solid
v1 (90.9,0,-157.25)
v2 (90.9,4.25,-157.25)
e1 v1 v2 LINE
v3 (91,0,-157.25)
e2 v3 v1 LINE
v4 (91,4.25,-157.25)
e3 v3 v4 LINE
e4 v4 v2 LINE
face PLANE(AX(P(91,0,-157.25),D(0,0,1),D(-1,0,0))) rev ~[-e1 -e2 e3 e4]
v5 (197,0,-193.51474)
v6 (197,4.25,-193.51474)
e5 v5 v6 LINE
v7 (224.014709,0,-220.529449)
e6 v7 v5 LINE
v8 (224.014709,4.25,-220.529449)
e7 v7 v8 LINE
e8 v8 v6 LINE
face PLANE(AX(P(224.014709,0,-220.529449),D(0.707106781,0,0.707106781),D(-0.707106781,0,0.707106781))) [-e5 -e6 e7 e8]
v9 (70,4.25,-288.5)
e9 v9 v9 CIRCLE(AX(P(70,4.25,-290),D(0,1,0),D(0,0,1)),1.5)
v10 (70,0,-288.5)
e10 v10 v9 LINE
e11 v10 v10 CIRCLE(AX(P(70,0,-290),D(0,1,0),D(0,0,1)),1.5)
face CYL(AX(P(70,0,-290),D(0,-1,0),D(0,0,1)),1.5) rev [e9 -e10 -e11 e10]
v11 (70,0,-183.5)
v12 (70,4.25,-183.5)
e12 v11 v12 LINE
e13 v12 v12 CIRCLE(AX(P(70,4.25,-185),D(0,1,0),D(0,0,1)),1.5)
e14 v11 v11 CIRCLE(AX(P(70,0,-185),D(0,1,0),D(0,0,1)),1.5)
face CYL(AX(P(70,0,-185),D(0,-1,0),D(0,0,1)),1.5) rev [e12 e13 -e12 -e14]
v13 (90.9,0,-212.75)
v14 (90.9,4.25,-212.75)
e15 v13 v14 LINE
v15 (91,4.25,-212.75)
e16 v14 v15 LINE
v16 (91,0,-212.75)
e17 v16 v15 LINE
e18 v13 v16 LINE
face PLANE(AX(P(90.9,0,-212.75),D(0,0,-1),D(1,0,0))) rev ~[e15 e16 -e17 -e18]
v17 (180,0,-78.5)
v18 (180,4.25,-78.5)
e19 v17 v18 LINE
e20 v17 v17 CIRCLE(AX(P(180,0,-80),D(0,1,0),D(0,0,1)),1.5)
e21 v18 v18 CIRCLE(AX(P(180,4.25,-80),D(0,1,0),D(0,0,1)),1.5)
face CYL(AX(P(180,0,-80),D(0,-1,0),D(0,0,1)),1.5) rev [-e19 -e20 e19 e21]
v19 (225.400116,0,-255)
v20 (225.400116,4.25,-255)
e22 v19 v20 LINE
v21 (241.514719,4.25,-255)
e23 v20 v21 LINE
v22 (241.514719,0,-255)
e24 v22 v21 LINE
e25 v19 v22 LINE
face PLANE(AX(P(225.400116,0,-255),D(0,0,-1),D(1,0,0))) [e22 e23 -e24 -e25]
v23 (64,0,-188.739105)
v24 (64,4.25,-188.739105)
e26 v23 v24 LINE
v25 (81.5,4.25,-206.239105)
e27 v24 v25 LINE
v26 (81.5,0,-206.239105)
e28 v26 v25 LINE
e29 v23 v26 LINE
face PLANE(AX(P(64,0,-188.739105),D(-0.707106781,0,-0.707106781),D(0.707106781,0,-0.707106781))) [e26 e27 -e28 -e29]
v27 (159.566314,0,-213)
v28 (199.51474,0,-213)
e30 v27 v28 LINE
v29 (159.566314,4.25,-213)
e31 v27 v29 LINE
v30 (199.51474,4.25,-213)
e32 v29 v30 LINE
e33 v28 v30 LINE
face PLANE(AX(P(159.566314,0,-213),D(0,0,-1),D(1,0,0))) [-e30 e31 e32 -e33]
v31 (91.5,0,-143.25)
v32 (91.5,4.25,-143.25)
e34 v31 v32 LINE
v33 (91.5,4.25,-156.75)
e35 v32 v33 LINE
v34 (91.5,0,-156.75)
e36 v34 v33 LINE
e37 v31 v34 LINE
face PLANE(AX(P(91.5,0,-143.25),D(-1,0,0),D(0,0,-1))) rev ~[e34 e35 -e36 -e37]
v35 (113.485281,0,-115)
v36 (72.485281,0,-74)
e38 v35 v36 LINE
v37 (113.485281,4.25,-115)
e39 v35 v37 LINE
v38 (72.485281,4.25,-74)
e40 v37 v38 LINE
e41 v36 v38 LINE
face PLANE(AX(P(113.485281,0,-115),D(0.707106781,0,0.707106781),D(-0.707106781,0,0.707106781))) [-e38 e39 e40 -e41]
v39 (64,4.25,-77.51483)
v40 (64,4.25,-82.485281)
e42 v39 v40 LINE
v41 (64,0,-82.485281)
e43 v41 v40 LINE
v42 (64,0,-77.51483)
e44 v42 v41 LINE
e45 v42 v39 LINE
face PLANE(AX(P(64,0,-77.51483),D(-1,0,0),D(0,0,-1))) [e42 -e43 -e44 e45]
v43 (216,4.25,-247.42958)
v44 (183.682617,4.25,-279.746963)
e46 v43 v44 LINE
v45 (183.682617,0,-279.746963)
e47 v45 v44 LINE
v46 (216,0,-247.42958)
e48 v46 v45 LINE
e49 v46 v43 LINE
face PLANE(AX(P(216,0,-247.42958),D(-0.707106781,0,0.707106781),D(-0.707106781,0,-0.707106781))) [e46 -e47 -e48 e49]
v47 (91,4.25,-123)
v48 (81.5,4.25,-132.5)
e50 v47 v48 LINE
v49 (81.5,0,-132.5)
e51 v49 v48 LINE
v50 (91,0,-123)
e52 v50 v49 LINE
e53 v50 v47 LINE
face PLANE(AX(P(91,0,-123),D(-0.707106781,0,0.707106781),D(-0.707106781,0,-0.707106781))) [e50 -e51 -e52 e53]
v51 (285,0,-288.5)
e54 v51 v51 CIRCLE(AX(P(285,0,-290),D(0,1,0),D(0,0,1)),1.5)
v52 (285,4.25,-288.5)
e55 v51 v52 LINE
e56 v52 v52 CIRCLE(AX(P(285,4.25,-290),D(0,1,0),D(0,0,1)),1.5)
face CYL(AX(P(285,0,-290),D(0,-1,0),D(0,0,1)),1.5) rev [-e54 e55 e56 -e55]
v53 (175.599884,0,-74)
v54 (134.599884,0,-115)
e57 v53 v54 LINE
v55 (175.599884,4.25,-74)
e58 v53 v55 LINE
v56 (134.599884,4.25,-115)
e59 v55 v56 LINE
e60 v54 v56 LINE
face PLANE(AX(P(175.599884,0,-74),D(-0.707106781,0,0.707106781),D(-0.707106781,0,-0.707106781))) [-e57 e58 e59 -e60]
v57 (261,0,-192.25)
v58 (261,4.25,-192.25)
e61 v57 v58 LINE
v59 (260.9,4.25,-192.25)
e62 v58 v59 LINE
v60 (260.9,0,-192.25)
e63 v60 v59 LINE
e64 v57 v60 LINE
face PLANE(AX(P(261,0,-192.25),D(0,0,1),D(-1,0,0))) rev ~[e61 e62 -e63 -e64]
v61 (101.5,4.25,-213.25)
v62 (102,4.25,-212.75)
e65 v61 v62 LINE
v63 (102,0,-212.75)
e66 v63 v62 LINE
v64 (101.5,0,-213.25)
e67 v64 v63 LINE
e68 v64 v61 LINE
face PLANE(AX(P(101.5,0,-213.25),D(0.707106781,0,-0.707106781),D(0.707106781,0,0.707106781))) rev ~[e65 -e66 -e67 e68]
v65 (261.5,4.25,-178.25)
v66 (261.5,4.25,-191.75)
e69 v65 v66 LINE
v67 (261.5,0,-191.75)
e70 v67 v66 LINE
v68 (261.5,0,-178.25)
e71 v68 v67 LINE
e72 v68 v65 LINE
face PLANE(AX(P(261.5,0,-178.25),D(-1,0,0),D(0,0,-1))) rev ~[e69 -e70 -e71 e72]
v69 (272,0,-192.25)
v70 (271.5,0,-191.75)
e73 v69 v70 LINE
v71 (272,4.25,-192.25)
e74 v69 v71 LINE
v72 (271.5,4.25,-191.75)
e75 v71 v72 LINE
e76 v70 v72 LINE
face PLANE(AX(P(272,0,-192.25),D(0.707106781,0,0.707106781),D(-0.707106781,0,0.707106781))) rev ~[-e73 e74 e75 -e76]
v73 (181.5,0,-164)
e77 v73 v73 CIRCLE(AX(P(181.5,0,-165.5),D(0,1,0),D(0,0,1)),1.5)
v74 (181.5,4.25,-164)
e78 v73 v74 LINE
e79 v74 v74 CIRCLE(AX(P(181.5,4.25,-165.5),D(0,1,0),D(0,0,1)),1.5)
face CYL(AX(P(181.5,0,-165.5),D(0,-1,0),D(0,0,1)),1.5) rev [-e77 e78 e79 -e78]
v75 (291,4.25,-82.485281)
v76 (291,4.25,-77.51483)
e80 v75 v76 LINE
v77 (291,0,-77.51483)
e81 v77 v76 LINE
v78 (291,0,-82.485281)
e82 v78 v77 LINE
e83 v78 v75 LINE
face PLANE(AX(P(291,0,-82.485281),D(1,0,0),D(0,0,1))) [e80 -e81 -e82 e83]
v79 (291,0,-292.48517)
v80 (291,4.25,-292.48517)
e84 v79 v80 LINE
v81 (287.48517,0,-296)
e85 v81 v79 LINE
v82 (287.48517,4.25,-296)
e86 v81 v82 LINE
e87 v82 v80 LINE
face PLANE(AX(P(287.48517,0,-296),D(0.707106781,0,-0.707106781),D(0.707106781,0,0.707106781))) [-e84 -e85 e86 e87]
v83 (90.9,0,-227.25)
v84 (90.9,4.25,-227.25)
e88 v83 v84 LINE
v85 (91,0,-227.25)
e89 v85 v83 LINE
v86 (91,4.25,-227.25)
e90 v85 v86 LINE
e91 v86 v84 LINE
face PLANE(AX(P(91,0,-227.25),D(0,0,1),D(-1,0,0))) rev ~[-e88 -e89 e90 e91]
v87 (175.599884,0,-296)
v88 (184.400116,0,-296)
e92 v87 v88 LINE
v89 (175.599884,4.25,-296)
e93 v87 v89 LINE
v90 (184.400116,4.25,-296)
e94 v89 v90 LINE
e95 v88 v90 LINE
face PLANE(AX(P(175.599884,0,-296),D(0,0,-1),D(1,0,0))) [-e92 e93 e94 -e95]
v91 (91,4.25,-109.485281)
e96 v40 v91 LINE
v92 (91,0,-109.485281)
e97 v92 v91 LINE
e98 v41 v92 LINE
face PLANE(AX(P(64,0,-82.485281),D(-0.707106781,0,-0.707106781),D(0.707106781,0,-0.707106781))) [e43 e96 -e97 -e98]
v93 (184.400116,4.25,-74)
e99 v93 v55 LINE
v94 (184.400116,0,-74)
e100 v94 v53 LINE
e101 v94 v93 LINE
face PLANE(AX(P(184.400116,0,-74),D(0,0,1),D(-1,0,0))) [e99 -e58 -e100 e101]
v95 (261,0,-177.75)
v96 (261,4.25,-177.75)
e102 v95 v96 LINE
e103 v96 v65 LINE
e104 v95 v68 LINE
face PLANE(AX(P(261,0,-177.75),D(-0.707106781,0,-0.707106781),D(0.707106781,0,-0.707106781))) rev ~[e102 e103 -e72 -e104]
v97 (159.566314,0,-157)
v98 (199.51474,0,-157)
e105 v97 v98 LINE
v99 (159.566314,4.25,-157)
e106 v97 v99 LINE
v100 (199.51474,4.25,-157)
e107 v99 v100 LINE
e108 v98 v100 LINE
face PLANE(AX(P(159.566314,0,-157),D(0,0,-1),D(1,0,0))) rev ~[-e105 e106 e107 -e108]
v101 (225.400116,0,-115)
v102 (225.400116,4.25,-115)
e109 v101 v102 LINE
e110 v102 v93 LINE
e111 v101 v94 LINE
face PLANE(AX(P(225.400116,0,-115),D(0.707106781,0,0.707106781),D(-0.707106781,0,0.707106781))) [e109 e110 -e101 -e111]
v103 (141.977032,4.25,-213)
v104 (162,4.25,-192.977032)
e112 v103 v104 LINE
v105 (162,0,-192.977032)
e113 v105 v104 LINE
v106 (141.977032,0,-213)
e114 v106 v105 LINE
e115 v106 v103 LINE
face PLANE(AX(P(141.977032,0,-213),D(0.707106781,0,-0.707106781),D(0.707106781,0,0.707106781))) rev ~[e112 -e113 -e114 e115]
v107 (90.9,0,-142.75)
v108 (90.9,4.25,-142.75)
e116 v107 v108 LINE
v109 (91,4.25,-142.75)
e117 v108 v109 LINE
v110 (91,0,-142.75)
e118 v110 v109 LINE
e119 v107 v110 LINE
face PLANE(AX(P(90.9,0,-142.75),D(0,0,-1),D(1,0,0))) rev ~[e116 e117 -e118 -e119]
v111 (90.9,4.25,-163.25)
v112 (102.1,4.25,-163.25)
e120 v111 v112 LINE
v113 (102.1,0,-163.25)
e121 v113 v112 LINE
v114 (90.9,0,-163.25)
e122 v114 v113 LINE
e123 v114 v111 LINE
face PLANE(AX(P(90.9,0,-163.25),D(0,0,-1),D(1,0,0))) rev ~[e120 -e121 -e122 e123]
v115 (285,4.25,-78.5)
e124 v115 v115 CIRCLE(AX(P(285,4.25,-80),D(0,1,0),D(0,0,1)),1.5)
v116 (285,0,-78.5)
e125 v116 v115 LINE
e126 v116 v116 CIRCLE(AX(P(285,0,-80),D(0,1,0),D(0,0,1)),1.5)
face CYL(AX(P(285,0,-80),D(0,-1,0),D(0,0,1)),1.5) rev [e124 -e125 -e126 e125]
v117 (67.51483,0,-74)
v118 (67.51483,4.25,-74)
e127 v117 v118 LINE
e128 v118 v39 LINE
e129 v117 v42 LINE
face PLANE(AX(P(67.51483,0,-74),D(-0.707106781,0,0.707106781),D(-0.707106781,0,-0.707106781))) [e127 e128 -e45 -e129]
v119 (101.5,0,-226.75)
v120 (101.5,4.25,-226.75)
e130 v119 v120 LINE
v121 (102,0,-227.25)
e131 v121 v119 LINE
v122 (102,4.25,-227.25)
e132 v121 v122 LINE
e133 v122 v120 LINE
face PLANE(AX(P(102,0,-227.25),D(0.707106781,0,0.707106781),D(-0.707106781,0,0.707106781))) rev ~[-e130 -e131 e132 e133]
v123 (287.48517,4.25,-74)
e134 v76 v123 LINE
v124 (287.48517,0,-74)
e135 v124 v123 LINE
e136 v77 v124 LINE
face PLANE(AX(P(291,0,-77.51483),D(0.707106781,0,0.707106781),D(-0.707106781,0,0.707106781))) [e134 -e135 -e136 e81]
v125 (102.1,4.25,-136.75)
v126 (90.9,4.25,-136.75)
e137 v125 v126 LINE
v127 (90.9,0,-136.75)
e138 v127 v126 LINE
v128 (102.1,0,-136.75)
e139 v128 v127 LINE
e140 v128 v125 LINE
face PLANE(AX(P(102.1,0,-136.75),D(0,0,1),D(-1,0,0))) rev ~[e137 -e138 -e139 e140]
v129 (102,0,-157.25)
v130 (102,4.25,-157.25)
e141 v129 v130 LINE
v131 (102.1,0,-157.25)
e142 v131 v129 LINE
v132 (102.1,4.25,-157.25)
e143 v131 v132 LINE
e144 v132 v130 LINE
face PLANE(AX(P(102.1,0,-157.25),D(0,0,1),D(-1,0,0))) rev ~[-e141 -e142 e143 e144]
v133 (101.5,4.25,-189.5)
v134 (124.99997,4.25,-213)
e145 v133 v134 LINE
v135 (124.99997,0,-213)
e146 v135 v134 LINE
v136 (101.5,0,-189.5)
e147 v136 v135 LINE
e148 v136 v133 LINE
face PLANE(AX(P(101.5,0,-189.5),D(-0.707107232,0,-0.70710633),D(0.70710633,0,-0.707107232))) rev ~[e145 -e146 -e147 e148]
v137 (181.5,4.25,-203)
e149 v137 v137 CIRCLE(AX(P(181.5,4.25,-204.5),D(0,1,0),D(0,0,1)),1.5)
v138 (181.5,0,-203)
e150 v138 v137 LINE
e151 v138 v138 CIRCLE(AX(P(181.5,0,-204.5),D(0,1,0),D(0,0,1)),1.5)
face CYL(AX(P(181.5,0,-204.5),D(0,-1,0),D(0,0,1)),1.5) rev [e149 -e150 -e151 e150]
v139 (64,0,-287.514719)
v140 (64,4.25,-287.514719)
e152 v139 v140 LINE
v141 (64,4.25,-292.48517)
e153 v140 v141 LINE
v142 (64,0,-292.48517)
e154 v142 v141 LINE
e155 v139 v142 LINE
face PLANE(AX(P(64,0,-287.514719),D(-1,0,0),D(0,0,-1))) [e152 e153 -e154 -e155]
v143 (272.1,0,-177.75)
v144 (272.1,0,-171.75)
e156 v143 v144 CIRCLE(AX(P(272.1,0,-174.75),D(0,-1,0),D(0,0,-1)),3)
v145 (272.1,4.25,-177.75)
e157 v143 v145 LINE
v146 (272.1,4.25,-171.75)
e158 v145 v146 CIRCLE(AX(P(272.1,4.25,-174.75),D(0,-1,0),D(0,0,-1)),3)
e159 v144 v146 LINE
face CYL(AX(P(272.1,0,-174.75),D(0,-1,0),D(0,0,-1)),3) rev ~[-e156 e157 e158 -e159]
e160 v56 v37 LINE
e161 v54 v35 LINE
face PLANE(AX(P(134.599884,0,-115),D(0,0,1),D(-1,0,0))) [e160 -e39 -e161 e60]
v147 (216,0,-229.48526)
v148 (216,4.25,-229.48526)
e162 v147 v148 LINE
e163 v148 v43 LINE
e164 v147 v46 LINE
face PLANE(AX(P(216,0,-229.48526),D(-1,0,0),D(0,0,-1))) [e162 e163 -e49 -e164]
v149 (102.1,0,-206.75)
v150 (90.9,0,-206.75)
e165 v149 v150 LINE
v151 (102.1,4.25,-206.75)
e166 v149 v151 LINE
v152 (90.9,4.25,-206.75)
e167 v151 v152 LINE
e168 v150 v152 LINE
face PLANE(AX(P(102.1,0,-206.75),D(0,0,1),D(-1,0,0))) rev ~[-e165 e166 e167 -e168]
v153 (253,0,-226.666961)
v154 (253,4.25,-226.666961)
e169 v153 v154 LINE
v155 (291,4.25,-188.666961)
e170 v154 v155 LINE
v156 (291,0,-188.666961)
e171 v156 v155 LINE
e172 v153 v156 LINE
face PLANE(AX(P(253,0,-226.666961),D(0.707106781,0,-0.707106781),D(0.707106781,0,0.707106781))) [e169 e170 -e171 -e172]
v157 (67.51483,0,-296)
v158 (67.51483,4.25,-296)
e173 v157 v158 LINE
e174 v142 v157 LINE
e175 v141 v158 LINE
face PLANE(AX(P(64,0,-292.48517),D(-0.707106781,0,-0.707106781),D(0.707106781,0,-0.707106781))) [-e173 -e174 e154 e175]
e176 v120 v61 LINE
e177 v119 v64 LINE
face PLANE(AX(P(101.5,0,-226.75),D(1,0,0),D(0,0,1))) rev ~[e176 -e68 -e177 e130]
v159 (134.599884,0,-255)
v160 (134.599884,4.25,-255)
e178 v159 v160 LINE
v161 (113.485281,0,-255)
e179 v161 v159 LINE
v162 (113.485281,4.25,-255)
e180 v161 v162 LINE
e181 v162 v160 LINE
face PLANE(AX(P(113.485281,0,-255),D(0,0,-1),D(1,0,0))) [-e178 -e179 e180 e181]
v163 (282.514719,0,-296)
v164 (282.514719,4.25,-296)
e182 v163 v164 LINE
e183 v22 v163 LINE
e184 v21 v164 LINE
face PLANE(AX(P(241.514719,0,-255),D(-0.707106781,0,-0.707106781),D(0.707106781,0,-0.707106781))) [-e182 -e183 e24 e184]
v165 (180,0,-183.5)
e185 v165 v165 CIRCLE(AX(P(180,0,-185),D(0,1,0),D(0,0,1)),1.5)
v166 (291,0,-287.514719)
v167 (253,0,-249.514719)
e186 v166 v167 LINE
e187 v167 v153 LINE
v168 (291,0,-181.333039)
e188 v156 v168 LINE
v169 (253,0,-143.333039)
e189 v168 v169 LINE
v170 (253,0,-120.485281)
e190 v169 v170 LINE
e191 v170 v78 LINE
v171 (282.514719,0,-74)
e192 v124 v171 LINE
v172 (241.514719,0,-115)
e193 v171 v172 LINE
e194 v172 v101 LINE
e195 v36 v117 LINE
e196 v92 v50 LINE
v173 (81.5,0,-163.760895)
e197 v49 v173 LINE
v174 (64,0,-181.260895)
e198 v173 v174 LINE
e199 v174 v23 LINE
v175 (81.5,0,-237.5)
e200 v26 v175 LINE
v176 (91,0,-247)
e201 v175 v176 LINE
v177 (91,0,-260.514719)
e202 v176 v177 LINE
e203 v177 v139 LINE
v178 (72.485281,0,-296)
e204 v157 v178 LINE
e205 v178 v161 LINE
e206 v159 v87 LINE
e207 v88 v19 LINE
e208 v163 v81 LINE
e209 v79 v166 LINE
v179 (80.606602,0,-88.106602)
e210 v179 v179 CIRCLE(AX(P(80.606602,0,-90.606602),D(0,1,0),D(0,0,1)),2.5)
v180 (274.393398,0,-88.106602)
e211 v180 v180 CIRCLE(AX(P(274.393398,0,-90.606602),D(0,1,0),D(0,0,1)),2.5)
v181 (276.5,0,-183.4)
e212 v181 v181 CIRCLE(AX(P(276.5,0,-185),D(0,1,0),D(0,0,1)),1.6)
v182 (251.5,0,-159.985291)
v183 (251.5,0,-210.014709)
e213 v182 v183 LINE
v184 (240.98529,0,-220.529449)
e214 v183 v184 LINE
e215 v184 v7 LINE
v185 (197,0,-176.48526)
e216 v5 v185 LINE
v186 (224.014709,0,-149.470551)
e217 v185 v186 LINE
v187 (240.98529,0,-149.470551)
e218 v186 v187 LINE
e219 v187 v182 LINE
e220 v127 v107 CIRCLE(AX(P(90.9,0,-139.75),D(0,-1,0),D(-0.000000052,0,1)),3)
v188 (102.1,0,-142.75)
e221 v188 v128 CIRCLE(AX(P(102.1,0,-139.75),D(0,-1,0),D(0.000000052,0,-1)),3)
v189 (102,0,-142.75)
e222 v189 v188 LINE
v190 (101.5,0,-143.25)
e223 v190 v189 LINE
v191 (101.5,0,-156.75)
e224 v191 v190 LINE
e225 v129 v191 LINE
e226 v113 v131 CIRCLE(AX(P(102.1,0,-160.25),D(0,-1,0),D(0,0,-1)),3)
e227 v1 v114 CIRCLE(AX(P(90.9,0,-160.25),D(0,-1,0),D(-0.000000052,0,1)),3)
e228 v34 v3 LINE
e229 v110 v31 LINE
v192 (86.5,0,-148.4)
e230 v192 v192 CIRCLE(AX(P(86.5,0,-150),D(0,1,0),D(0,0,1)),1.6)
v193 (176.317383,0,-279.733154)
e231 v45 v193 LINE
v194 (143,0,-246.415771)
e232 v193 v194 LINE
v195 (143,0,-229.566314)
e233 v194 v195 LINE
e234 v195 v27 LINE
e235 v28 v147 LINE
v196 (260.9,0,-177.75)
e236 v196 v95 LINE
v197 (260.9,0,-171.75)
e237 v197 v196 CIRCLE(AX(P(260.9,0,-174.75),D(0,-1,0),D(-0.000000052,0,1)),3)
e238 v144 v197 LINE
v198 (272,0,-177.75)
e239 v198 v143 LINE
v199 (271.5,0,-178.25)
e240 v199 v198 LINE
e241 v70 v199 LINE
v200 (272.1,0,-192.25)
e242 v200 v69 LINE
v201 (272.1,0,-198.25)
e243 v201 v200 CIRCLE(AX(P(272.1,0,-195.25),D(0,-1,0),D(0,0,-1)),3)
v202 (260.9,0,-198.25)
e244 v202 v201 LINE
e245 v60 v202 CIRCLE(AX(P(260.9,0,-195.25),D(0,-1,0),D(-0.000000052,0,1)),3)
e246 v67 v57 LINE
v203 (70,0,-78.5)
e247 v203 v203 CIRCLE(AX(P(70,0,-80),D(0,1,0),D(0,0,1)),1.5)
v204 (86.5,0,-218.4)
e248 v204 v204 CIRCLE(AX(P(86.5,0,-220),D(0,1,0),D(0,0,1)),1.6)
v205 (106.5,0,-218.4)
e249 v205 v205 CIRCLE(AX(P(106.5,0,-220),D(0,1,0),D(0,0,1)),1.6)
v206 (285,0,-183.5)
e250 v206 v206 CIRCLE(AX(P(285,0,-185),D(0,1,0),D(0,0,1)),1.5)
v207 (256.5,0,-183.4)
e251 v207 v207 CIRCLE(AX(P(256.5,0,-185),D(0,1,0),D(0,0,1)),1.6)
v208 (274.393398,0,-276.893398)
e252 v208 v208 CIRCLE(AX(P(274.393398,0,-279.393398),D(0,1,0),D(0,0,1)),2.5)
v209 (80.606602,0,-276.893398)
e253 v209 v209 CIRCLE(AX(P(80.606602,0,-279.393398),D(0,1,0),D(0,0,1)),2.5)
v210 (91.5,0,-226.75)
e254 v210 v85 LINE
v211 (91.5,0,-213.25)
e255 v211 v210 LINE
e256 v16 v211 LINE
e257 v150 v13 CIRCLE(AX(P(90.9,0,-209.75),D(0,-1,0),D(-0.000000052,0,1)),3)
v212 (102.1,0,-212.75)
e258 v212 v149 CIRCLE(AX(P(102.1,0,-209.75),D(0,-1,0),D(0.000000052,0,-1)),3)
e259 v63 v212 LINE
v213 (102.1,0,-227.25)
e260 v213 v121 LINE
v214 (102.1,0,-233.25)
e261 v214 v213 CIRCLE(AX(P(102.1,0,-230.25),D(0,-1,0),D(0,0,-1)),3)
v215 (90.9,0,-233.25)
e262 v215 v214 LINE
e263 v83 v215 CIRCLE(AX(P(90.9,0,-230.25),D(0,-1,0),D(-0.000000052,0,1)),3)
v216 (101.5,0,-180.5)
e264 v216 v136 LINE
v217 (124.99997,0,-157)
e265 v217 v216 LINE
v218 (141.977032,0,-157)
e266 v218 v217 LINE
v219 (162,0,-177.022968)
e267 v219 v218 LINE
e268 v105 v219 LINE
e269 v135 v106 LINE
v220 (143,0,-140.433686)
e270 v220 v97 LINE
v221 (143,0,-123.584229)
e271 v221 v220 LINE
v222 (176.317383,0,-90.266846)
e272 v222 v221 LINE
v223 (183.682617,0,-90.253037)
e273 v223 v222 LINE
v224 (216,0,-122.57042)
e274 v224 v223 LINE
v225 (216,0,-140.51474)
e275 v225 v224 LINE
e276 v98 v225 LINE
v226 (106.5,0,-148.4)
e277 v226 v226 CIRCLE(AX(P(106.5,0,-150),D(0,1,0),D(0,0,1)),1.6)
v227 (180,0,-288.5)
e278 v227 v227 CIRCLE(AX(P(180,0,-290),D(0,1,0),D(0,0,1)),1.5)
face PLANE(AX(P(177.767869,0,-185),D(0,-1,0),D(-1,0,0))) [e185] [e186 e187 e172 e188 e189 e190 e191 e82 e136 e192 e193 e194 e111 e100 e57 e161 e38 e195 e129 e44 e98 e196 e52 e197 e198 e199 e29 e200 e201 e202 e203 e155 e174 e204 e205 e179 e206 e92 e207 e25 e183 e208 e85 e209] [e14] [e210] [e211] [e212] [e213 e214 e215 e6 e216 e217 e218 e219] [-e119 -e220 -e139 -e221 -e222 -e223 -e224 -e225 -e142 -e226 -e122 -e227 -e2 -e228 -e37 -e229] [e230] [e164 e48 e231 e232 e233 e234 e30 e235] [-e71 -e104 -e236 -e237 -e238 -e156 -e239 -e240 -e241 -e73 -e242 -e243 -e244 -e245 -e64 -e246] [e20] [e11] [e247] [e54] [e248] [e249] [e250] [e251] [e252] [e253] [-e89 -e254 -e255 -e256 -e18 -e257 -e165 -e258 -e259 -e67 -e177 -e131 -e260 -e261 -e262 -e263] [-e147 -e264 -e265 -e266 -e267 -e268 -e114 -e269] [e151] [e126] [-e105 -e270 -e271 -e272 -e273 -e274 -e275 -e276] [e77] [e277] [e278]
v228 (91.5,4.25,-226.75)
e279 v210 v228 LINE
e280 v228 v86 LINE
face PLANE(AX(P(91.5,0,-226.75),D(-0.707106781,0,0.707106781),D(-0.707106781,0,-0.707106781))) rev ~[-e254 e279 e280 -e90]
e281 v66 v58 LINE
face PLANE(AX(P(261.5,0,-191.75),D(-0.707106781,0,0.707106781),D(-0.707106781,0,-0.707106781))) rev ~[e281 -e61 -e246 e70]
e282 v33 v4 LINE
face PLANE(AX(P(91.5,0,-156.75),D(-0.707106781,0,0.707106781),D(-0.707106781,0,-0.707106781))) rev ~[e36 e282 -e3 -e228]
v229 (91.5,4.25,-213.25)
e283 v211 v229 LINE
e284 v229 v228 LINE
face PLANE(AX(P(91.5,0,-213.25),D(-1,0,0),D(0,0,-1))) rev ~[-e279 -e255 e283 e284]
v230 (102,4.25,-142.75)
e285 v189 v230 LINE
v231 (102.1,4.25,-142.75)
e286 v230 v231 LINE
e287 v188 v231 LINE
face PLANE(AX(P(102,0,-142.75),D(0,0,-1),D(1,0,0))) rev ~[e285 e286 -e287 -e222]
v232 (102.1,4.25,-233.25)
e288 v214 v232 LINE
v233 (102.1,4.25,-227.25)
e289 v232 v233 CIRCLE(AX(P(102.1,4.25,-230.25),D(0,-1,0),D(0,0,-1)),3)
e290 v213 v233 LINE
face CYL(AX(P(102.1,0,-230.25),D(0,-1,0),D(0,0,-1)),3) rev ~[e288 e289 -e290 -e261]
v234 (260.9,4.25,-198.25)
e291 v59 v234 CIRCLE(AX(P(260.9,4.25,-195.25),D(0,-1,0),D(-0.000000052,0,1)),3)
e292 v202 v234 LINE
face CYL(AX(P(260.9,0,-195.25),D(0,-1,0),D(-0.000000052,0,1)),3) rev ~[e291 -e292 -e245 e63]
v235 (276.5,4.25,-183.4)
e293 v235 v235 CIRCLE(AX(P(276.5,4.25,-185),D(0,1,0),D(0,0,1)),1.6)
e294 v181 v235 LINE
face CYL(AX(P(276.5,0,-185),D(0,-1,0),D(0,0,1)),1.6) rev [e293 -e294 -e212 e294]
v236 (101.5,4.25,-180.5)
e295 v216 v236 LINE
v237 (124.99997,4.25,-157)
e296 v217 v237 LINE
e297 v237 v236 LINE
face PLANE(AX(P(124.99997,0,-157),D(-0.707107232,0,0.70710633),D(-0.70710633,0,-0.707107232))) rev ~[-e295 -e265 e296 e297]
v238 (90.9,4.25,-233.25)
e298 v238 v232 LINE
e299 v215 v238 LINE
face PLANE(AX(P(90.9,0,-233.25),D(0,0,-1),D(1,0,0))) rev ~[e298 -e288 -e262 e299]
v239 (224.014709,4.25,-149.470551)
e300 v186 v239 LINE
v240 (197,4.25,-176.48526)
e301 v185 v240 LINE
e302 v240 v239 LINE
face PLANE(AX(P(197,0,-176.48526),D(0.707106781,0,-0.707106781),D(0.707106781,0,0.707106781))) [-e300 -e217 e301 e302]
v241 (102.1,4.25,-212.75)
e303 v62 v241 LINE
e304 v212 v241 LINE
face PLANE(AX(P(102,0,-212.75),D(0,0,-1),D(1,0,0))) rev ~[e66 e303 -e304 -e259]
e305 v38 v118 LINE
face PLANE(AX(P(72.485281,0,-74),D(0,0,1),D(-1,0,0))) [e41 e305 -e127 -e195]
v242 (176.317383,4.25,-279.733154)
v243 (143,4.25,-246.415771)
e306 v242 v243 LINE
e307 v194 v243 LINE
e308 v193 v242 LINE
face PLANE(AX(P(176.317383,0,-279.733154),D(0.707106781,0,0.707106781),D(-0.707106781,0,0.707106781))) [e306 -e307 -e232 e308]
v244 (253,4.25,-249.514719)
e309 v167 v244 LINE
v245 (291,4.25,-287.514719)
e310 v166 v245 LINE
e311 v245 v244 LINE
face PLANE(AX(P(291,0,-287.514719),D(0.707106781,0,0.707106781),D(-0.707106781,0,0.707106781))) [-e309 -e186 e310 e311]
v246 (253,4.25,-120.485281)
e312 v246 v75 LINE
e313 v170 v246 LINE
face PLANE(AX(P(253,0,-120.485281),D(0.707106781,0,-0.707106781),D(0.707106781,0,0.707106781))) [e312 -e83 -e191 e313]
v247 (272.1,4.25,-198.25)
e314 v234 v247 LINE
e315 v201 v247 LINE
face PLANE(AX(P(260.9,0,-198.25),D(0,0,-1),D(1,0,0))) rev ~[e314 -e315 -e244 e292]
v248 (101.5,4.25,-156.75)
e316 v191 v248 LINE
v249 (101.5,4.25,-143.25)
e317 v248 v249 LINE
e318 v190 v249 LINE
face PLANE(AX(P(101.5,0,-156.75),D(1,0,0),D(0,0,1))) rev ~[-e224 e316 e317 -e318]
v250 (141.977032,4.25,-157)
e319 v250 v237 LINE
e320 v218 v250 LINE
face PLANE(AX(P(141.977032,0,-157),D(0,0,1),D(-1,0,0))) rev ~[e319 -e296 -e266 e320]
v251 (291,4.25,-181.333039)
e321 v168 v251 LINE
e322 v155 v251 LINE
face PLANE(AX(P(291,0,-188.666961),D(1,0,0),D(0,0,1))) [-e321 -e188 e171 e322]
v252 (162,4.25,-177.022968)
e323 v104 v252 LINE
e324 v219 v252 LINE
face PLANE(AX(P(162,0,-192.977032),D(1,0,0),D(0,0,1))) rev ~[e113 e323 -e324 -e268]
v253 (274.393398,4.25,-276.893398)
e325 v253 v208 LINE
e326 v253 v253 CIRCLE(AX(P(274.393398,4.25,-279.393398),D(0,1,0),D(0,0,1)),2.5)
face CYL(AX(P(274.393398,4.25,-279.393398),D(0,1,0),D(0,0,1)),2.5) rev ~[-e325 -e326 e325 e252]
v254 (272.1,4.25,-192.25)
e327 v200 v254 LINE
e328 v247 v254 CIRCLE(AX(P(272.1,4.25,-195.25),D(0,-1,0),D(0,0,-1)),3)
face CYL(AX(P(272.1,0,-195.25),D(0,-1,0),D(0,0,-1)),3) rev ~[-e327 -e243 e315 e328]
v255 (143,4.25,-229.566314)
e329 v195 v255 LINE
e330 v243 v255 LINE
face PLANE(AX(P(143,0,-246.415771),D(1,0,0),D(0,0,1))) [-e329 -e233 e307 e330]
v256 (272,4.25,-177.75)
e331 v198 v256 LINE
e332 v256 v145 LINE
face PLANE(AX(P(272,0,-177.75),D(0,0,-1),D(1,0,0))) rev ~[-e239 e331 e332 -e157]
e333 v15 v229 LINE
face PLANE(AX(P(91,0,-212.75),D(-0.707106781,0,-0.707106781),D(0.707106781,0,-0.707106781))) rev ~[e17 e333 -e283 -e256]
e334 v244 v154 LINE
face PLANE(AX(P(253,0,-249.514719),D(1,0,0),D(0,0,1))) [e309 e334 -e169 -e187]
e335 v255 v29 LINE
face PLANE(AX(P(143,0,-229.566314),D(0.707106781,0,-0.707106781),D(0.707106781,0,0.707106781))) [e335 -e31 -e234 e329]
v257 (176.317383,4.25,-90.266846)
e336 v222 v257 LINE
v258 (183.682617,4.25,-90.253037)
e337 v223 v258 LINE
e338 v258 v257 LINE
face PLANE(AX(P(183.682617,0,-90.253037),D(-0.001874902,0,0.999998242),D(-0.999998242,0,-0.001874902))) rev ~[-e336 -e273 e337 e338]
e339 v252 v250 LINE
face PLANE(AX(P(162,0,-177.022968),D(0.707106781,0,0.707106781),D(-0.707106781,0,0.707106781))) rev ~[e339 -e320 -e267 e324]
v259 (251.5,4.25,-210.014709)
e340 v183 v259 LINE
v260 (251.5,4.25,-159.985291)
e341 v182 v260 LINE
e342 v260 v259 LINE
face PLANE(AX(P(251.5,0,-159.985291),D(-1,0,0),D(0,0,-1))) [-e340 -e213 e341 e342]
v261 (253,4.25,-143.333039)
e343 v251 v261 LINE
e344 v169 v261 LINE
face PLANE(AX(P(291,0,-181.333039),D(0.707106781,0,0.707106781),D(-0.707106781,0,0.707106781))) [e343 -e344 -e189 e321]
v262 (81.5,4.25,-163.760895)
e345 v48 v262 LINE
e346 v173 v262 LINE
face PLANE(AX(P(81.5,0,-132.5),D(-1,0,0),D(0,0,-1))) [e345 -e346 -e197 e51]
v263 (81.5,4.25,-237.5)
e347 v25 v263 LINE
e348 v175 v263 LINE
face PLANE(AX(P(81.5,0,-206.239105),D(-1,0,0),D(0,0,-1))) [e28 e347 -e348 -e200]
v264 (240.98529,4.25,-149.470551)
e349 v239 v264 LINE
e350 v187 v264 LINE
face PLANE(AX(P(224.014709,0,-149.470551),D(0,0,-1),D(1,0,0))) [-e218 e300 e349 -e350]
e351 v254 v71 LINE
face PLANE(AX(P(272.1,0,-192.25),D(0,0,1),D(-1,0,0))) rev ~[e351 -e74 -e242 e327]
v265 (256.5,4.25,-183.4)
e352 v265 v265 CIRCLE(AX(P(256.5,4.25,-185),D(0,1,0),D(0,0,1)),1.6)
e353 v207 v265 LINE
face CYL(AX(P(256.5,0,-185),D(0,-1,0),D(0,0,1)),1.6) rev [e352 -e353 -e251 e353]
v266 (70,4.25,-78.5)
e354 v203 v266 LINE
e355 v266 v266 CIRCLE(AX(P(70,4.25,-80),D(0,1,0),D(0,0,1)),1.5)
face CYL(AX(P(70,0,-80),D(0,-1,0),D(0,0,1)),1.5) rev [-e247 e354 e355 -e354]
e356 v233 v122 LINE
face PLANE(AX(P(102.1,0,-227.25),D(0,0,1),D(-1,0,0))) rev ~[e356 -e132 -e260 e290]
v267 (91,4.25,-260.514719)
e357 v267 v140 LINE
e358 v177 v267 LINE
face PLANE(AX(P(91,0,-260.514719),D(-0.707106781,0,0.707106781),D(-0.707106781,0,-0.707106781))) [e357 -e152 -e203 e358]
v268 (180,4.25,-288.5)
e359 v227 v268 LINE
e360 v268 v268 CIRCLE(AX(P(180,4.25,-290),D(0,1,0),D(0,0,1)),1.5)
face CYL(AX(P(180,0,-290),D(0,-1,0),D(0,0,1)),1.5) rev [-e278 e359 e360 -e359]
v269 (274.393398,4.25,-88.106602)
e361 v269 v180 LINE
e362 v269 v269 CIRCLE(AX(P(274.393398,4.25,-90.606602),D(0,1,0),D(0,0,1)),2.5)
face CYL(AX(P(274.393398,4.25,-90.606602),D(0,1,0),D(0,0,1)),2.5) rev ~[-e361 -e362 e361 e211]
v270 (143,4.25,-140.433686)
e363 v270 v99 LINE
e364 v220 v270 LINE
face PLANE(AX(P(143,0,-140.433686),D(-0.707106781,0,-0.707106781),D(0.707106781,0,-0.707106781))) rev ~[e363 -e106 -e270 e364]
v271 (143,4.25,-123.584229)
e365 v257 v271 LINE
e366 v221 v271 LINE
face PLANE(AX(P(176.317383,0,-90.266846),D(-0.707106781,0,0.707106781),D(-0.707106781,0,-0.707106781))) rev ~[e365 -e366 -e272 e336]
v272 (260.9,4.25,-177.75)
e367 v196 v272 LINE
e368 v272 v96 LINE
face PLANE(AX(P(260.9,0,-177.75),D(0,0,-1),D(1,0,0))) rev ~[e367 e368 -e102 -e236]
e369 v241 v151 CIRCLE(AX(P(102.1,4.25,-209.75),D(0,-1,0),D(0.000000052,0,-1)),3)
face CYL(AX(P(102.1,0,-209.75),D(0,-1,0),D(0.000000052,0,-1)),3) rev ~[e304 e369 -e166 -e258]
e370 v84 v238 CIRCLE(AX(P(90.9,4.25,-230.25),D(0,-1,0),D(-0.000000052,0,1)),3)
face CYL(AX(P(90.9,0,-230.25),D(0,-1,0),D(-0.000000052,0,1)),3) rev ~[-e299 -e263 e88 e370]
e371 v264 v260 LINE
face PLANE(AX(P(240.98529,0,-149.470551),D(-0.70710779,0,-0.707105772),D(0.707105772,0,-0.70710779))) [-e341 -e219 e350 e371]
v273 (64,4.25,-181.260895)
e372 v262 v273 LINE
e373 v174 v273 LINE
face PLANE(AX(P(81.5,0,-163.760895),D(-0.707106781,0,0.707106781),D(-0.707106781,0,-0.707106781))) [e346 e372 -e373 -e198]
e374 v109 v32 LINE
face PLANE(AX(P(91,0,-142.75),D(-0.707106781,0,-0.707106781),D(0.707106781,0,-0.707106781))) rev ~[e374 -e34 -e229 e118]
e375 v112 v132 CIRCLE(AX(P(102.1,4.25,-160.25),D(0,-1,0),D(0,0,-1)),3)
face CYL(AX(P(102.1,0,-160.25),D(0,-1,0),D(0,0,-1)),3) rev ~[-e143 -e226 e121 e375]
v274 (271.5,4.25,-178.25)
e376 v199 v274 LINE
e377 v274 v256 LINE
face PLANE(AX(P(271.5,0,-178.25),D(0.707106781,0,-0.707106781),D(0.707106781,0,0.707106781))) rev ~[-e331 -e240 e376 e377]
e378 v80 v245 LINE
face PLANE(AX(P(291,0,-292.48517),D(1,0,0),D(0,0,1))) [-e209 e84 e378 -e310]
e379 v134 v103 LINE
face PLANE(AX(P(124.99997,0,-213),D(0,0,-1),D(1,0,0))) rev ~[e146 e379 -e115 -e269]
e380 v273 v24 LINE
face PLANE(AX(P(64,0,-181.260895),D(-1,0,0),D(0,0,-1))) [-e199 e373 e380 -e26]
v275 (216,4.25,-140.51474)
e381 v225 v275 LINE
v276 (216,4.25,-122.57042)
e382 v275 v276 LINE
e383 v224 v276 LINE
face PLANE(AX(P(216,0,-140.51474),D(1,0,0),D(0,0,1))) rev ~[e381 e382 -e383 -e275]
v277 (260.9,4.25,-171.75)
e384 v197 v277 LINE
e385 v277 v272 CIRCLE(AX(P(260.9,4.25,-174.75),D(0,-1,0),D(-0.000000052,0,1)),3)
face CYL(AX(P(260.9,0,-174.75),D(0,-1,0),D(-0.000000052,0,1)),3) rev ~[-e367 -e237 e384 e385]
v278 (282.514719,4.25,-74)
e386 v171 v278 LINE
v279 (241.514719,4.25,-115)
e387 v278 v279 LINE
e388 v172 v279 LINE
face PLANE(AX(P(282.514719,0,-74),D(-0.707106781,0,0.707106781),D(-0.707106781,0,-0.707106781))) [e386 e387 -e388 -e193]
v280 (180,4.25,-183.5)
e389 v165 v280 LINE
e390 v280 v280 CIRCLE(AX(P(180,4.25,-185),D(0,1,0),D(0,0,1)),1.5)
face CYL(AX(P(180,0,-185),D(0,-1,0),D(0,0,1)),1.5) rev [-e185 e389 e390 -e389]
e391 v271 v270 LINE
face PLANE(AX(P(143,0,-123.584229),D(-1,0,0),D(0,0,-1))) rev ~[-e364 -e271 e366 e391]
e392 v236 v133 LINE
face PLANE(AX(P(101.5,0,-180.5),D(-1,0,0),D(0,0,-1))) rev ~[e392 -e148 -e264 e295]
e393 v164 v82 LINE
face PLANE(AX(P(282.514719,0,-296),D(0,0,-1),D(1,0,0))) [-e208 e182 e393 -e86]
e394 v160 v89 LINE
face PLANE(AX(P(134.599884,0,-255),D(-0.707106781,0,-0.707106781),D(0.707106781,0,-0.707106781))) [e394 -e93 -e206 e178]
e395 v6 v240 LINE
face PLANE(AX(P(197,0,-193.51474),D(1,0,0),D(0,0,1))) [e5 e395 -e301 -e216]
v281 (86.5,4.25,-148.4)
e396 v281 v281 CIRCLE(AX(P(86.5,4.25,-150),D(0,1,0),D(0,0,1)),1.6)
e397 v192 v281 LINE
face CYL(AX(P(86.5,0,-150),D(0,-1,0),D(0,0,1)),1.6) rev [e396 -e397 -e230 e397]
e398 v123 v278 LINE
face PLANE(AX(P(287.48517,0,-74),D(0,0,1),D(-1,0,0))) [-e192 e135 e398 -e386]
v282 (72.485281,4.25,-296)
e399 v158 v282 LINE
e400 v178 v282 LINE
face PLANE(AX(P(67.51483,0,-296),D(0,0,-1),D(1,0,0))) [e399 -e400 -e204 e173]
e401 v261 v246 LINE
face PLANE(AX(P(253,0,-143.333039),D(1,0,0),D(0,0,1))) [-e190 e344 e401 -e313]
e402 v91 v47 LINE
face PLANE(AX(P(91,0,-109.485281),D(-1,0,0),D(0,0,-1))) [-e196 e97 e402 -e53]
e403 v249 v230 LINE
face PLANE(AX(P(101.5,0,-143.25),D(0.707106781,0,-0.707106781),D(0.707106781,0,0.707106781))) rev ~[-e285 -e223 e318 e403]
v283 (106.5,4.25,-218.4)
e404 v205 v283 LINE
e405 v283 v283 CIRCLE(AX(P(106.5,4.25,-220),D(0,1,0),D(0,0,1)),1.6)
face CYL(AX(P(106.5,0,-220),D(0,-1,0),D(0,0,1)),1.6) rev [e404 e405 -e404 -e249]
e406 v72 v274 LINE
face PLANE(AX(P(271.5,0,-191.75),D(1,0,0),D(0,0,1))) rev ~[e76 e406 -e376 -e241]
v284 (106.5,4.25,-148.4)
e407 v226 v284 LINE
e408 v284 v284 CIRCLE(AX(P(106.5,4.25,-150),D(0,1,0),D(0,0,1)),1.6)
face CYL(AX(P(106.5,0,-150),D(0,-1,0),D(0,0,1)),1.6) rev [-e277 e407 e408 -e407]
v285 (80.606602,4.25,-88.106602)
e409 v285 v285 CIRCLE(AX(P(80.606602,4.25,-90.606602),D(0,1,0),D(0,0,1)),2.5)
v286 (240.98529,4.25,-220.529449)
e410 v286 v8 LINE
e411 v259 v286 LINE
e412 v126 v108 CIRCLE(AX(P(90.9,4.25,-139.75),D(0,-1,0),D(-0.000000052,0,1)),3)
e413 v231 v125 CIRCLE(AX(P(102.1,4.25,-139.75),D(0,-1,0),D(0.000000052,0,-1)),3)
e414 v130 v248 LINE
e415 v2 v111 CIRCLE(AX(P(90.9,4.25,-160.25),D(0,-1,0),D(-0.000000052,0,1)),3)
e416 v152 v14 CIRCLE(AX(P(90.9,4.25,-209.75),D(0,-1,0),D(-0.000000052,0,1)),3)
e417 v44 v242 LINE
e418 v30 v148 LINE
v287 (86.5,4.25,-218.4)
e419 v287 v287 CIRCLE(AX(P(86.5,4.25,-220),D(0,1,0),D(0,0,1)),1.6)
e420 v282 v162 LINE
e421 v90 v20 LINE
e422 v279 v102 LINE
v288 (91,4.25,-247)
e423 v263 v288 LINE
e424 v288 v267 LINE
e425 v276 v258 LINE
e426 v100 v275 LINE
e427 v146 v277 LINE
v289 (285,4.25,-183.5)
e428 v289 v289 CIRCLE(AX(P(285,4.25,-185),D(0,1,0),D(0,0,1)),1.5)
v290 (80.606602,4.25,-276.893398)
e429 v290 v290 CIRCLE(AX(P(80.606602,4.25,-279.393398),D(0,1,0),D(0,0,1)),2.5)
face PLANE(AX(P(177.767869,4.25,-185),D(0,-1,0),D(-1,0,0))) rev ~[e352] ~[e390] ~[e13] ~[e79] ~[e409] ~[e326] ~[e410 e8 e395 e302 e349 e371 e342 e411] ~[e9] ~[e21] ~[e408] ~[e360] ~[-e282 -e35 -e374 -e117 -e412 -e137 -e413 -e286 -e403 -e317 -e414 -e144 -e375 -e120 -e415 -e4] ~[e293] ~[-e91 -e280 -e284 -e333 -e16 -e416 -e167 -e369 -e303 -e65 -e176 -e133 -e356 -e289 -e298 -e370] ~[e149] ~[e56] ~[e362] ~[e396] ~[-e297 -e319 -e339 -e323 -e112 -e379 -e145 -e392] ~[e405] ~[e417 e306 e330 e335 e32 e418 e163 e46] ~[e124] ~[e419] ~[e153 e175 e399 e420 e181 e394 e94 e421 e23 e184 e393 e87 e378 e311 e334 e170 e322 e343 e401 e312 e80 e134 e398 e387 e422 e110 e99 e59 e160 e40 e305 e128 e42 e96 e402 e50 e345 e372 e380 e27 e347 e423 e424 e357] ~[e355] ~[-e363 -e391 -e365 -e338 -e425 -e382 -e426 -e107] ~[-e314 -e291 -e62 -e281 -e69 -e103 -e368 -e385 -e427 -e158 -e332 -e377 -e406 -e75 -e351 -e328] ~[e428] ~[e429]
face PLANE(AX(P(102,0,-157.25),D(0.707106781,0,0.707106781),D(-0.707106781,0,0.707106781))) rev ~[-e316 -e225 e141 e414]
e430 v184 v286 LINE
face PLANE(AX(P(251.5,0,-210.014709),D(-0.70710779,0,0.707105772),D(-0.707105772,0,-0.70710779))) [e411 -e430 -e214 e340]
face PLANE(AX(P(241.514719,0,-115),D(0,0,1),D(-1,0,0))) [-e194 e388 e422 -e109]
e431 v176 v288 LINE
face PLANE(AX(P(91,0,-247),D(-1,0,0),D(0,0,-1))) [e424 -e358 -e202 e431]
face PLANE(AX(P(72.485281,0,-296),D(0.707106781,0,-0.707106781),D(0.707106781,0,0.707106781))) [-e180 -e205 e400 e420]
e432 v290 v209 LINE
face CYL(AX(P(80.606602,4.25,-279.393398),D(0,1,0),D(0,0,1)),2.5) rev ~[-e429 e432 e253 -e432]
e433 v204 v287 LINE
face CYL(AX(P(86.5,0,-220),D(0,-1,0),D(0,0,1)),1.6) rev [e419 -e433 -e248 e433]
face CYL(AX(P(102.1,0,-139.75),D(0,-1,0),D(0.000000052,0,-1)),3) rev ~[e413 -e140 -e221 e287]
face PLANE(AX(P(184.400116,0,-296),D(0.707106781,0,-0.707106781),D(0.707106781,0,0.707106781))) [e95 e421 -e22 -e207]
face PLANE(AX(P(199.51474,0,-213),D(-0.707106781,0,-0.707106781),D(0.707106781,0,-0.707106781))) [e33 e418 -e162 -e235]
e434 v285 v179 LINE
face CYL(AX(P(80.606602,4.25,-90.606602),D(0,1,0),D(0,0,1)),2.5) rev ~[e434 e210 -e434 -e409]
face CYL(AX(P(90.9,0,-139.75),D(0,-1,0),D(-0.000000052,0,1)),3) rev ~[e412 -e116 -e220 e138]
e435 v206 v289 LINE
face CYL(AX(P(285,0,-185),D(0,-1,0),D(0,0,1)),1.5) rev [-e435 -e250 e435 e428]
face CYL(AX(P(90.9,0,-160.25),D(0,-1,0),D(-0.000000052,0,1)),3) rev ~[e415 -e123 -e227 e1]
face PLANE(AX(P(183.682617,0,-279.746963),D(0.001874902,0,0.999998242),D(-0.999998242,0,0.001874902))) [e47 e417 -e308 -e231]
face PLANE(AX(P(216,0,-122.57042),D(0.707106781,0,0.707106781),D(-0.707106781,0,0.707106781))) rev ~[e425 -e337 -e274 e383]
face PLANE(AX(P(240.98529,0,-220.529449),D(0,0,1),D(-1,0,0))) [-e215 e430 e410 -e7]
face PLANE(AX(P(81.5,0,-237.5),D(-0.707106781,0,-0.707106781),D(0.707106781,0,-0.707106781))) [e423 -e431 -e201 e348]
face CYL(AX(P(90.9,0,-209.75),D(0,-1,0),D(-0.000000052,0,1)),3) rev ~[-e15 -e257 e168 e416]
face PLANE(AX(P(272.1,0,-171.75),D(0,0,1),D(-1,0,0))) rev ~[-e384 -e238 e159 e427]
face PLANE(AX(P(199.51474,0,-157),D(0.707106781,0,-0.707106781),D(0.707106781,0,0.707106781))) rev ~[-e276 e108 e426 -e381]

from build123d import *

# Parameters (mm, degrees)
SKETCH2_R            = 1.5
SKETCH2_R_2          = 1.6
BOSS_EXTRUDE2_DEPTH  = 4.25
SKETCH4_R            = 2.5
HOLES_TO_DRILL_DEPTH = 416.108494854


with BuildPart() as part:
    # Sketch2 → Boss-Extrude2 (new body)
    with BuildSketch(Plane(origin=(0, 0, 0), x_dir=(1, 0, 0), z_dir=(0, 1, 0))):
        Polygon((184.400116, 296), (225.400116, 255), (241.514718626, 255), (282.514718626, 296), (287.485169777, 296), (291, 292.485169777), (291, 287.514718626), (253, 249.514718626), (253, 226.666961), (291, 188.666961), (291, 181.333039), (253, 143.333039), (253, 120.485281374), (291, 82.485281374), (291, 77.514830223), (287.485169777, 74), (282.514718626, 74), (241.514718626, 115), (225.400116, 115), (184.400116, 74), (175.599884, 74), (134.599884, 115), (113.485281374, 115), (72.485281374, 74), (67.514830223, 74), (64, 77.514830223), (64, 82.485281374), (91, 109.485281374), (91, 123), (81.5, 132.5), (81.5, 163.760895), (64, 181.260895), (64, 188.739105), (81.5, 206.239105), (81.5, 237.5), (91, 247), (91, 260.514718626), (64, 287.514718626), (64, 292.485169777), (67.514830223, 296), (72.485281374, 296), (113.485281374, 255), (134.599884, 255), (175.599884, 296), align=None)
        with Locations(Location((180, 80, 0), (0, 0, 270))):
            Circle(SKETCH2_R, mode=Mode.SUBTRACT)
        with Locations(Location((180, 290, 0), (0, 0, 270))):
            Circle(SKETCH2_R, mode=Mode.SUBTRACT)
        with Locations(Location((285, 80, 0), (0, 0, 270))):
            Circle(SKETCH2_R, mode=Mode.SUBTRACT)
        with Locations(Location((70, 290, 0), (0, 0, 270))):
            Circle(SKETCH2_R, mode=Mode.SUBTRACT)
        with Locations(Location((285, 290, 0), (0, 0, 270))):
            Circle(SKETCH2_R, mode=Mode.SUBTRACT)
        with Locations(Location((70, 185, 0), (0, 0, 270))):
            Circle(SKETCH2_R, mode=Mode.SUBTRACT)
        with Locations(Location((180, 185, 0), (0, 0, 270))):
            Circle(SKETCH2_R, mode=Mode.SUBTRACT)
        with Locations(Location((285, 185, 0), (0, 0, 270))):
            Circle(SKETCH2_R, mode=Mode.SUBTRACT)
        with Locations(Location((256.5, 185, 0), (0, 0, 270))):
            Circle(SKETCH2_R_2, mode=Mode.SUBTRACT)
        with Locations(Location((276.5, 185, 0), (0, 0, 270))):
            Circle(SKETCH2_R_2, mode=Mode.SUBTRACT)
        with Locations(Location((106.5, 220, 0), (0, 0, 270))):
            Circle(SKETCH2_R_2, mode=Mode.SUBTRACT)
        with Locations(Location((106.5, 150, 0), (0, 0, 270))):
            Circle(SKETCH2_R_2, mode=Mode.SUBTRACT)
        with Locations(Location((86.5, 220, 0), (0, 0, 270))):
            Circle(SKETCH2_R_2, mode=Mode.SUBTRACT)
        with Locations(Location((86.5, 150, 0), (0, 0, 270))):
            Circle(SKETCH2_R_2, mode=Mode.SUBTRACT)
        with Locations(Location((70, 80, 0), (0, 0, 270))):
            Circle(SKETCH2_R, mode=Mode.SUBTRACT)
        with Locations(Location((181.5, 165.5, 0), (0, 0, 270))):
            Circle(SKETCH2_R, mode=Mode.SUBTRACT)
        with Locations(Location((181.5, 204.5, 0), (0, 0, 270))):
            Circle(SKETCH2_R, mode=Mode.SUBTRACT)
        Polygon((162, 177.02296782), (141.97703218, 157), (124.999970007, 157), (101.5, 180.5), (101.5, 189.5), (124.999970007, 213), (141.97703218, 213), (162, 192.97703218), align=None, mode=Mode.SUBTRACT)
        Polygon((251.5, 210.014709), (240.98529, 220.529449), (224.014709, 220.529449), (197, 193.51474), (197, 176.48526), (224.014709, 149.470551), (240.98529, 149.470551), (251.5, 159.985291), align=None, mode=Mode.SUBTRACT)
        Polygon((143, 246.415771), (143, 229.566314), (159.566314, 213), (199.51474, 213), (216, 229.48526), (216, 247.429580116), (183.682617, 279.746963116), (176.317383, 279.733154), align=None, mode=Mode.SUBTRACT)
        Polygon((143, 123.584229), (143, 140.433686), (159.566314, 157), (199.51474, 157), (216, 140.51474), (216, 122.570419884), (183.682617, 90.253036884), (176.317383, 90.266846), align=None, mode=Mode.SUBTRACT)
        with BuildLine():
            Line((101.500000013, 226.75), (101.500000013, 213.25))
            Line((101.500000013, 213.25), (102.000000013, 212.75))
            Line((102.000000013, 212.75), (102.100000157, 212.75))
            ThreePointArc((102.100000157, 212.75), (105.1, 209.75), (102.100000157, 206.75))
            Line((102.100000157, 206.75), (90.899999843, 206.75))
            ThreePointArc((90.899999843, 206.75), (87.9, 209.75), (90.899999843, 212.75))
            Line((90.899999843, 212.75), (90.999999987, 212.75))
            Line((90.999999987, 212.75), (91.499999987, 213.25))
            Line((91.499999987, 213.25), (91.499999987, 226.75))
            Line((91.499999987, 226.75), (90.999999987, 227.25))
            Line((90.999999987, 227.25), (90.899999843, 227.25))
            ThreePointArc((90.899999843, 227.25), (87.9, 230.25), (90.899999843, 233.25))
            Line((90.899999843, 233.25), (102.100000157, 233.25))
            ThreePointArc((102.100000157, 233.25), (105.100000157, 230.25), (102.100000157, 227.25))
            Line((102.100000157, 227.25), (102.000000013, 227.25))
            Line((102.000000013, 227.25), (101.500000013, 226.75))
        make_face(mode=Mode.SUBTRACT)
        with BuildLine():
            Line((271.500000013, 191.75), (271.500000013, 178.25))
            Line((271.500000013, 178.25), (272.000000013, 177.75))
            Line((272.000000013, 177.75), (272.100000157, 177.75))
            ThreePointArc((272.100000157, 177.75), (275.100000157, 174.75), (272.100000157, 171.75))
            Line((272.100000157, 171.75), (260.899999843, 171.75))
            ThreePointArc((260.899999843, 171.75), (257.9, 174.75), (260.899999843, 177.75))
            Line((260.899999843, 177.75), (260.999999987, 177.75))
            Line((260.999999987, 177.75), (261.499999987, 178.25))
            Line((261.499999987, 178.25), (261.499999987, 191.75))
            Line((261.499999987, 191.75), (260.999999987, 192.25))
            Line((260.999999987, 192.25), (260.899999843, 192.25))
            ThreePointArc((260.899999843, 192.25), (257.9, 195.25), (260.899999843, 198.25))
            Line((260.899999843, 198.25), (272.100000157, 198.25))
            ThreePointArc((272.100000157, 198.25), (275.100000157, 195.25), (272.100000157, 192.25))
            Line((272.100000157, 192.25), (272.000000013, 192.25))
            Line((272.000000013, 192.25), (271.500000013, 191.75))
        make_face(mode=Mode.SUBTRACT)
        with BuildLine():
            Line((101.500000013, 156.75), (101.500000013, 143.25))
            Line((101.500000013, 143.25), (102.000000013, 142.75))
            Line((102.000000013, 142.75), (102.100000157, 142.75))
            ThreePointArc((102.100000157, 142.75), (105.1, 139.75), (102.100000157, 136.75))
            Line((102.100000157, 136.75), (90.899999843, 136.75))
            ThreePointArc((90.899999843, 136.75), (87.9, 139.75), (90.899999843, 142.75))
            Line((90.899999843, 142.75), (90.999999987, 142.75))
            Line((90.999999987, 142.75), (91.499999987, 143.25))
            Line((91.499999987, 143.25), (91.499999987, 156.75))
            Line((91.499999987, 156.75), (90.999999987, 157.25))
            Line((90.999999987, 157.25), (90.899999843, 157.25))
            ThreePointArc((90.899999843, 157.25), (87.9, 160.25), (90.899999843, 163.25))
            Line((90.899999843, 163.25), (102.100000157, 163.25))
            ThreePointArc((102.100000157, 163.25), (105.100000157, 160.25), (102.100000157, 157.25))
            Line((102.100000157, 157.25), (102.000000013, 157.25))
            Line((102.000000013, 157.25), (101.500000013, 156.75))
        make_face(mode=Mode.SUBTRACT)
    extrude(amount=BOSS_EXTRUDE2_DEPTH)

    # Sketch4 → Holes-to-drill (cut, through all)
    with BuildSketch(Plane(origin=(0, 4.25, 0), x_dir=(1, 0, 0), z_dir=(0, 1, 0))):
        with Locations(Location((80.606601718, 279.393398282, 0), (0, 0, 270))):
            Circle(SKETCH4_R)
        with Locations(Location((274.393398282, 279.393398282, 0), (0, 0, 270))):
            Circle(SKETCH4_R)
        with Locations(Location((80.606601718, 90.606601718, 0), (0, 0, 270))):
            Circle(SKETCH4_R)
        with Locations(Location((274.393398282, 90.606601718, 0), (0, 0, 270))):
            Circle(SKETCH4_R)
    extrude(amount=-HOLES_TO_DRILL_DEPTH, mode=Mode.SUBTRACT)


solid = part.part
